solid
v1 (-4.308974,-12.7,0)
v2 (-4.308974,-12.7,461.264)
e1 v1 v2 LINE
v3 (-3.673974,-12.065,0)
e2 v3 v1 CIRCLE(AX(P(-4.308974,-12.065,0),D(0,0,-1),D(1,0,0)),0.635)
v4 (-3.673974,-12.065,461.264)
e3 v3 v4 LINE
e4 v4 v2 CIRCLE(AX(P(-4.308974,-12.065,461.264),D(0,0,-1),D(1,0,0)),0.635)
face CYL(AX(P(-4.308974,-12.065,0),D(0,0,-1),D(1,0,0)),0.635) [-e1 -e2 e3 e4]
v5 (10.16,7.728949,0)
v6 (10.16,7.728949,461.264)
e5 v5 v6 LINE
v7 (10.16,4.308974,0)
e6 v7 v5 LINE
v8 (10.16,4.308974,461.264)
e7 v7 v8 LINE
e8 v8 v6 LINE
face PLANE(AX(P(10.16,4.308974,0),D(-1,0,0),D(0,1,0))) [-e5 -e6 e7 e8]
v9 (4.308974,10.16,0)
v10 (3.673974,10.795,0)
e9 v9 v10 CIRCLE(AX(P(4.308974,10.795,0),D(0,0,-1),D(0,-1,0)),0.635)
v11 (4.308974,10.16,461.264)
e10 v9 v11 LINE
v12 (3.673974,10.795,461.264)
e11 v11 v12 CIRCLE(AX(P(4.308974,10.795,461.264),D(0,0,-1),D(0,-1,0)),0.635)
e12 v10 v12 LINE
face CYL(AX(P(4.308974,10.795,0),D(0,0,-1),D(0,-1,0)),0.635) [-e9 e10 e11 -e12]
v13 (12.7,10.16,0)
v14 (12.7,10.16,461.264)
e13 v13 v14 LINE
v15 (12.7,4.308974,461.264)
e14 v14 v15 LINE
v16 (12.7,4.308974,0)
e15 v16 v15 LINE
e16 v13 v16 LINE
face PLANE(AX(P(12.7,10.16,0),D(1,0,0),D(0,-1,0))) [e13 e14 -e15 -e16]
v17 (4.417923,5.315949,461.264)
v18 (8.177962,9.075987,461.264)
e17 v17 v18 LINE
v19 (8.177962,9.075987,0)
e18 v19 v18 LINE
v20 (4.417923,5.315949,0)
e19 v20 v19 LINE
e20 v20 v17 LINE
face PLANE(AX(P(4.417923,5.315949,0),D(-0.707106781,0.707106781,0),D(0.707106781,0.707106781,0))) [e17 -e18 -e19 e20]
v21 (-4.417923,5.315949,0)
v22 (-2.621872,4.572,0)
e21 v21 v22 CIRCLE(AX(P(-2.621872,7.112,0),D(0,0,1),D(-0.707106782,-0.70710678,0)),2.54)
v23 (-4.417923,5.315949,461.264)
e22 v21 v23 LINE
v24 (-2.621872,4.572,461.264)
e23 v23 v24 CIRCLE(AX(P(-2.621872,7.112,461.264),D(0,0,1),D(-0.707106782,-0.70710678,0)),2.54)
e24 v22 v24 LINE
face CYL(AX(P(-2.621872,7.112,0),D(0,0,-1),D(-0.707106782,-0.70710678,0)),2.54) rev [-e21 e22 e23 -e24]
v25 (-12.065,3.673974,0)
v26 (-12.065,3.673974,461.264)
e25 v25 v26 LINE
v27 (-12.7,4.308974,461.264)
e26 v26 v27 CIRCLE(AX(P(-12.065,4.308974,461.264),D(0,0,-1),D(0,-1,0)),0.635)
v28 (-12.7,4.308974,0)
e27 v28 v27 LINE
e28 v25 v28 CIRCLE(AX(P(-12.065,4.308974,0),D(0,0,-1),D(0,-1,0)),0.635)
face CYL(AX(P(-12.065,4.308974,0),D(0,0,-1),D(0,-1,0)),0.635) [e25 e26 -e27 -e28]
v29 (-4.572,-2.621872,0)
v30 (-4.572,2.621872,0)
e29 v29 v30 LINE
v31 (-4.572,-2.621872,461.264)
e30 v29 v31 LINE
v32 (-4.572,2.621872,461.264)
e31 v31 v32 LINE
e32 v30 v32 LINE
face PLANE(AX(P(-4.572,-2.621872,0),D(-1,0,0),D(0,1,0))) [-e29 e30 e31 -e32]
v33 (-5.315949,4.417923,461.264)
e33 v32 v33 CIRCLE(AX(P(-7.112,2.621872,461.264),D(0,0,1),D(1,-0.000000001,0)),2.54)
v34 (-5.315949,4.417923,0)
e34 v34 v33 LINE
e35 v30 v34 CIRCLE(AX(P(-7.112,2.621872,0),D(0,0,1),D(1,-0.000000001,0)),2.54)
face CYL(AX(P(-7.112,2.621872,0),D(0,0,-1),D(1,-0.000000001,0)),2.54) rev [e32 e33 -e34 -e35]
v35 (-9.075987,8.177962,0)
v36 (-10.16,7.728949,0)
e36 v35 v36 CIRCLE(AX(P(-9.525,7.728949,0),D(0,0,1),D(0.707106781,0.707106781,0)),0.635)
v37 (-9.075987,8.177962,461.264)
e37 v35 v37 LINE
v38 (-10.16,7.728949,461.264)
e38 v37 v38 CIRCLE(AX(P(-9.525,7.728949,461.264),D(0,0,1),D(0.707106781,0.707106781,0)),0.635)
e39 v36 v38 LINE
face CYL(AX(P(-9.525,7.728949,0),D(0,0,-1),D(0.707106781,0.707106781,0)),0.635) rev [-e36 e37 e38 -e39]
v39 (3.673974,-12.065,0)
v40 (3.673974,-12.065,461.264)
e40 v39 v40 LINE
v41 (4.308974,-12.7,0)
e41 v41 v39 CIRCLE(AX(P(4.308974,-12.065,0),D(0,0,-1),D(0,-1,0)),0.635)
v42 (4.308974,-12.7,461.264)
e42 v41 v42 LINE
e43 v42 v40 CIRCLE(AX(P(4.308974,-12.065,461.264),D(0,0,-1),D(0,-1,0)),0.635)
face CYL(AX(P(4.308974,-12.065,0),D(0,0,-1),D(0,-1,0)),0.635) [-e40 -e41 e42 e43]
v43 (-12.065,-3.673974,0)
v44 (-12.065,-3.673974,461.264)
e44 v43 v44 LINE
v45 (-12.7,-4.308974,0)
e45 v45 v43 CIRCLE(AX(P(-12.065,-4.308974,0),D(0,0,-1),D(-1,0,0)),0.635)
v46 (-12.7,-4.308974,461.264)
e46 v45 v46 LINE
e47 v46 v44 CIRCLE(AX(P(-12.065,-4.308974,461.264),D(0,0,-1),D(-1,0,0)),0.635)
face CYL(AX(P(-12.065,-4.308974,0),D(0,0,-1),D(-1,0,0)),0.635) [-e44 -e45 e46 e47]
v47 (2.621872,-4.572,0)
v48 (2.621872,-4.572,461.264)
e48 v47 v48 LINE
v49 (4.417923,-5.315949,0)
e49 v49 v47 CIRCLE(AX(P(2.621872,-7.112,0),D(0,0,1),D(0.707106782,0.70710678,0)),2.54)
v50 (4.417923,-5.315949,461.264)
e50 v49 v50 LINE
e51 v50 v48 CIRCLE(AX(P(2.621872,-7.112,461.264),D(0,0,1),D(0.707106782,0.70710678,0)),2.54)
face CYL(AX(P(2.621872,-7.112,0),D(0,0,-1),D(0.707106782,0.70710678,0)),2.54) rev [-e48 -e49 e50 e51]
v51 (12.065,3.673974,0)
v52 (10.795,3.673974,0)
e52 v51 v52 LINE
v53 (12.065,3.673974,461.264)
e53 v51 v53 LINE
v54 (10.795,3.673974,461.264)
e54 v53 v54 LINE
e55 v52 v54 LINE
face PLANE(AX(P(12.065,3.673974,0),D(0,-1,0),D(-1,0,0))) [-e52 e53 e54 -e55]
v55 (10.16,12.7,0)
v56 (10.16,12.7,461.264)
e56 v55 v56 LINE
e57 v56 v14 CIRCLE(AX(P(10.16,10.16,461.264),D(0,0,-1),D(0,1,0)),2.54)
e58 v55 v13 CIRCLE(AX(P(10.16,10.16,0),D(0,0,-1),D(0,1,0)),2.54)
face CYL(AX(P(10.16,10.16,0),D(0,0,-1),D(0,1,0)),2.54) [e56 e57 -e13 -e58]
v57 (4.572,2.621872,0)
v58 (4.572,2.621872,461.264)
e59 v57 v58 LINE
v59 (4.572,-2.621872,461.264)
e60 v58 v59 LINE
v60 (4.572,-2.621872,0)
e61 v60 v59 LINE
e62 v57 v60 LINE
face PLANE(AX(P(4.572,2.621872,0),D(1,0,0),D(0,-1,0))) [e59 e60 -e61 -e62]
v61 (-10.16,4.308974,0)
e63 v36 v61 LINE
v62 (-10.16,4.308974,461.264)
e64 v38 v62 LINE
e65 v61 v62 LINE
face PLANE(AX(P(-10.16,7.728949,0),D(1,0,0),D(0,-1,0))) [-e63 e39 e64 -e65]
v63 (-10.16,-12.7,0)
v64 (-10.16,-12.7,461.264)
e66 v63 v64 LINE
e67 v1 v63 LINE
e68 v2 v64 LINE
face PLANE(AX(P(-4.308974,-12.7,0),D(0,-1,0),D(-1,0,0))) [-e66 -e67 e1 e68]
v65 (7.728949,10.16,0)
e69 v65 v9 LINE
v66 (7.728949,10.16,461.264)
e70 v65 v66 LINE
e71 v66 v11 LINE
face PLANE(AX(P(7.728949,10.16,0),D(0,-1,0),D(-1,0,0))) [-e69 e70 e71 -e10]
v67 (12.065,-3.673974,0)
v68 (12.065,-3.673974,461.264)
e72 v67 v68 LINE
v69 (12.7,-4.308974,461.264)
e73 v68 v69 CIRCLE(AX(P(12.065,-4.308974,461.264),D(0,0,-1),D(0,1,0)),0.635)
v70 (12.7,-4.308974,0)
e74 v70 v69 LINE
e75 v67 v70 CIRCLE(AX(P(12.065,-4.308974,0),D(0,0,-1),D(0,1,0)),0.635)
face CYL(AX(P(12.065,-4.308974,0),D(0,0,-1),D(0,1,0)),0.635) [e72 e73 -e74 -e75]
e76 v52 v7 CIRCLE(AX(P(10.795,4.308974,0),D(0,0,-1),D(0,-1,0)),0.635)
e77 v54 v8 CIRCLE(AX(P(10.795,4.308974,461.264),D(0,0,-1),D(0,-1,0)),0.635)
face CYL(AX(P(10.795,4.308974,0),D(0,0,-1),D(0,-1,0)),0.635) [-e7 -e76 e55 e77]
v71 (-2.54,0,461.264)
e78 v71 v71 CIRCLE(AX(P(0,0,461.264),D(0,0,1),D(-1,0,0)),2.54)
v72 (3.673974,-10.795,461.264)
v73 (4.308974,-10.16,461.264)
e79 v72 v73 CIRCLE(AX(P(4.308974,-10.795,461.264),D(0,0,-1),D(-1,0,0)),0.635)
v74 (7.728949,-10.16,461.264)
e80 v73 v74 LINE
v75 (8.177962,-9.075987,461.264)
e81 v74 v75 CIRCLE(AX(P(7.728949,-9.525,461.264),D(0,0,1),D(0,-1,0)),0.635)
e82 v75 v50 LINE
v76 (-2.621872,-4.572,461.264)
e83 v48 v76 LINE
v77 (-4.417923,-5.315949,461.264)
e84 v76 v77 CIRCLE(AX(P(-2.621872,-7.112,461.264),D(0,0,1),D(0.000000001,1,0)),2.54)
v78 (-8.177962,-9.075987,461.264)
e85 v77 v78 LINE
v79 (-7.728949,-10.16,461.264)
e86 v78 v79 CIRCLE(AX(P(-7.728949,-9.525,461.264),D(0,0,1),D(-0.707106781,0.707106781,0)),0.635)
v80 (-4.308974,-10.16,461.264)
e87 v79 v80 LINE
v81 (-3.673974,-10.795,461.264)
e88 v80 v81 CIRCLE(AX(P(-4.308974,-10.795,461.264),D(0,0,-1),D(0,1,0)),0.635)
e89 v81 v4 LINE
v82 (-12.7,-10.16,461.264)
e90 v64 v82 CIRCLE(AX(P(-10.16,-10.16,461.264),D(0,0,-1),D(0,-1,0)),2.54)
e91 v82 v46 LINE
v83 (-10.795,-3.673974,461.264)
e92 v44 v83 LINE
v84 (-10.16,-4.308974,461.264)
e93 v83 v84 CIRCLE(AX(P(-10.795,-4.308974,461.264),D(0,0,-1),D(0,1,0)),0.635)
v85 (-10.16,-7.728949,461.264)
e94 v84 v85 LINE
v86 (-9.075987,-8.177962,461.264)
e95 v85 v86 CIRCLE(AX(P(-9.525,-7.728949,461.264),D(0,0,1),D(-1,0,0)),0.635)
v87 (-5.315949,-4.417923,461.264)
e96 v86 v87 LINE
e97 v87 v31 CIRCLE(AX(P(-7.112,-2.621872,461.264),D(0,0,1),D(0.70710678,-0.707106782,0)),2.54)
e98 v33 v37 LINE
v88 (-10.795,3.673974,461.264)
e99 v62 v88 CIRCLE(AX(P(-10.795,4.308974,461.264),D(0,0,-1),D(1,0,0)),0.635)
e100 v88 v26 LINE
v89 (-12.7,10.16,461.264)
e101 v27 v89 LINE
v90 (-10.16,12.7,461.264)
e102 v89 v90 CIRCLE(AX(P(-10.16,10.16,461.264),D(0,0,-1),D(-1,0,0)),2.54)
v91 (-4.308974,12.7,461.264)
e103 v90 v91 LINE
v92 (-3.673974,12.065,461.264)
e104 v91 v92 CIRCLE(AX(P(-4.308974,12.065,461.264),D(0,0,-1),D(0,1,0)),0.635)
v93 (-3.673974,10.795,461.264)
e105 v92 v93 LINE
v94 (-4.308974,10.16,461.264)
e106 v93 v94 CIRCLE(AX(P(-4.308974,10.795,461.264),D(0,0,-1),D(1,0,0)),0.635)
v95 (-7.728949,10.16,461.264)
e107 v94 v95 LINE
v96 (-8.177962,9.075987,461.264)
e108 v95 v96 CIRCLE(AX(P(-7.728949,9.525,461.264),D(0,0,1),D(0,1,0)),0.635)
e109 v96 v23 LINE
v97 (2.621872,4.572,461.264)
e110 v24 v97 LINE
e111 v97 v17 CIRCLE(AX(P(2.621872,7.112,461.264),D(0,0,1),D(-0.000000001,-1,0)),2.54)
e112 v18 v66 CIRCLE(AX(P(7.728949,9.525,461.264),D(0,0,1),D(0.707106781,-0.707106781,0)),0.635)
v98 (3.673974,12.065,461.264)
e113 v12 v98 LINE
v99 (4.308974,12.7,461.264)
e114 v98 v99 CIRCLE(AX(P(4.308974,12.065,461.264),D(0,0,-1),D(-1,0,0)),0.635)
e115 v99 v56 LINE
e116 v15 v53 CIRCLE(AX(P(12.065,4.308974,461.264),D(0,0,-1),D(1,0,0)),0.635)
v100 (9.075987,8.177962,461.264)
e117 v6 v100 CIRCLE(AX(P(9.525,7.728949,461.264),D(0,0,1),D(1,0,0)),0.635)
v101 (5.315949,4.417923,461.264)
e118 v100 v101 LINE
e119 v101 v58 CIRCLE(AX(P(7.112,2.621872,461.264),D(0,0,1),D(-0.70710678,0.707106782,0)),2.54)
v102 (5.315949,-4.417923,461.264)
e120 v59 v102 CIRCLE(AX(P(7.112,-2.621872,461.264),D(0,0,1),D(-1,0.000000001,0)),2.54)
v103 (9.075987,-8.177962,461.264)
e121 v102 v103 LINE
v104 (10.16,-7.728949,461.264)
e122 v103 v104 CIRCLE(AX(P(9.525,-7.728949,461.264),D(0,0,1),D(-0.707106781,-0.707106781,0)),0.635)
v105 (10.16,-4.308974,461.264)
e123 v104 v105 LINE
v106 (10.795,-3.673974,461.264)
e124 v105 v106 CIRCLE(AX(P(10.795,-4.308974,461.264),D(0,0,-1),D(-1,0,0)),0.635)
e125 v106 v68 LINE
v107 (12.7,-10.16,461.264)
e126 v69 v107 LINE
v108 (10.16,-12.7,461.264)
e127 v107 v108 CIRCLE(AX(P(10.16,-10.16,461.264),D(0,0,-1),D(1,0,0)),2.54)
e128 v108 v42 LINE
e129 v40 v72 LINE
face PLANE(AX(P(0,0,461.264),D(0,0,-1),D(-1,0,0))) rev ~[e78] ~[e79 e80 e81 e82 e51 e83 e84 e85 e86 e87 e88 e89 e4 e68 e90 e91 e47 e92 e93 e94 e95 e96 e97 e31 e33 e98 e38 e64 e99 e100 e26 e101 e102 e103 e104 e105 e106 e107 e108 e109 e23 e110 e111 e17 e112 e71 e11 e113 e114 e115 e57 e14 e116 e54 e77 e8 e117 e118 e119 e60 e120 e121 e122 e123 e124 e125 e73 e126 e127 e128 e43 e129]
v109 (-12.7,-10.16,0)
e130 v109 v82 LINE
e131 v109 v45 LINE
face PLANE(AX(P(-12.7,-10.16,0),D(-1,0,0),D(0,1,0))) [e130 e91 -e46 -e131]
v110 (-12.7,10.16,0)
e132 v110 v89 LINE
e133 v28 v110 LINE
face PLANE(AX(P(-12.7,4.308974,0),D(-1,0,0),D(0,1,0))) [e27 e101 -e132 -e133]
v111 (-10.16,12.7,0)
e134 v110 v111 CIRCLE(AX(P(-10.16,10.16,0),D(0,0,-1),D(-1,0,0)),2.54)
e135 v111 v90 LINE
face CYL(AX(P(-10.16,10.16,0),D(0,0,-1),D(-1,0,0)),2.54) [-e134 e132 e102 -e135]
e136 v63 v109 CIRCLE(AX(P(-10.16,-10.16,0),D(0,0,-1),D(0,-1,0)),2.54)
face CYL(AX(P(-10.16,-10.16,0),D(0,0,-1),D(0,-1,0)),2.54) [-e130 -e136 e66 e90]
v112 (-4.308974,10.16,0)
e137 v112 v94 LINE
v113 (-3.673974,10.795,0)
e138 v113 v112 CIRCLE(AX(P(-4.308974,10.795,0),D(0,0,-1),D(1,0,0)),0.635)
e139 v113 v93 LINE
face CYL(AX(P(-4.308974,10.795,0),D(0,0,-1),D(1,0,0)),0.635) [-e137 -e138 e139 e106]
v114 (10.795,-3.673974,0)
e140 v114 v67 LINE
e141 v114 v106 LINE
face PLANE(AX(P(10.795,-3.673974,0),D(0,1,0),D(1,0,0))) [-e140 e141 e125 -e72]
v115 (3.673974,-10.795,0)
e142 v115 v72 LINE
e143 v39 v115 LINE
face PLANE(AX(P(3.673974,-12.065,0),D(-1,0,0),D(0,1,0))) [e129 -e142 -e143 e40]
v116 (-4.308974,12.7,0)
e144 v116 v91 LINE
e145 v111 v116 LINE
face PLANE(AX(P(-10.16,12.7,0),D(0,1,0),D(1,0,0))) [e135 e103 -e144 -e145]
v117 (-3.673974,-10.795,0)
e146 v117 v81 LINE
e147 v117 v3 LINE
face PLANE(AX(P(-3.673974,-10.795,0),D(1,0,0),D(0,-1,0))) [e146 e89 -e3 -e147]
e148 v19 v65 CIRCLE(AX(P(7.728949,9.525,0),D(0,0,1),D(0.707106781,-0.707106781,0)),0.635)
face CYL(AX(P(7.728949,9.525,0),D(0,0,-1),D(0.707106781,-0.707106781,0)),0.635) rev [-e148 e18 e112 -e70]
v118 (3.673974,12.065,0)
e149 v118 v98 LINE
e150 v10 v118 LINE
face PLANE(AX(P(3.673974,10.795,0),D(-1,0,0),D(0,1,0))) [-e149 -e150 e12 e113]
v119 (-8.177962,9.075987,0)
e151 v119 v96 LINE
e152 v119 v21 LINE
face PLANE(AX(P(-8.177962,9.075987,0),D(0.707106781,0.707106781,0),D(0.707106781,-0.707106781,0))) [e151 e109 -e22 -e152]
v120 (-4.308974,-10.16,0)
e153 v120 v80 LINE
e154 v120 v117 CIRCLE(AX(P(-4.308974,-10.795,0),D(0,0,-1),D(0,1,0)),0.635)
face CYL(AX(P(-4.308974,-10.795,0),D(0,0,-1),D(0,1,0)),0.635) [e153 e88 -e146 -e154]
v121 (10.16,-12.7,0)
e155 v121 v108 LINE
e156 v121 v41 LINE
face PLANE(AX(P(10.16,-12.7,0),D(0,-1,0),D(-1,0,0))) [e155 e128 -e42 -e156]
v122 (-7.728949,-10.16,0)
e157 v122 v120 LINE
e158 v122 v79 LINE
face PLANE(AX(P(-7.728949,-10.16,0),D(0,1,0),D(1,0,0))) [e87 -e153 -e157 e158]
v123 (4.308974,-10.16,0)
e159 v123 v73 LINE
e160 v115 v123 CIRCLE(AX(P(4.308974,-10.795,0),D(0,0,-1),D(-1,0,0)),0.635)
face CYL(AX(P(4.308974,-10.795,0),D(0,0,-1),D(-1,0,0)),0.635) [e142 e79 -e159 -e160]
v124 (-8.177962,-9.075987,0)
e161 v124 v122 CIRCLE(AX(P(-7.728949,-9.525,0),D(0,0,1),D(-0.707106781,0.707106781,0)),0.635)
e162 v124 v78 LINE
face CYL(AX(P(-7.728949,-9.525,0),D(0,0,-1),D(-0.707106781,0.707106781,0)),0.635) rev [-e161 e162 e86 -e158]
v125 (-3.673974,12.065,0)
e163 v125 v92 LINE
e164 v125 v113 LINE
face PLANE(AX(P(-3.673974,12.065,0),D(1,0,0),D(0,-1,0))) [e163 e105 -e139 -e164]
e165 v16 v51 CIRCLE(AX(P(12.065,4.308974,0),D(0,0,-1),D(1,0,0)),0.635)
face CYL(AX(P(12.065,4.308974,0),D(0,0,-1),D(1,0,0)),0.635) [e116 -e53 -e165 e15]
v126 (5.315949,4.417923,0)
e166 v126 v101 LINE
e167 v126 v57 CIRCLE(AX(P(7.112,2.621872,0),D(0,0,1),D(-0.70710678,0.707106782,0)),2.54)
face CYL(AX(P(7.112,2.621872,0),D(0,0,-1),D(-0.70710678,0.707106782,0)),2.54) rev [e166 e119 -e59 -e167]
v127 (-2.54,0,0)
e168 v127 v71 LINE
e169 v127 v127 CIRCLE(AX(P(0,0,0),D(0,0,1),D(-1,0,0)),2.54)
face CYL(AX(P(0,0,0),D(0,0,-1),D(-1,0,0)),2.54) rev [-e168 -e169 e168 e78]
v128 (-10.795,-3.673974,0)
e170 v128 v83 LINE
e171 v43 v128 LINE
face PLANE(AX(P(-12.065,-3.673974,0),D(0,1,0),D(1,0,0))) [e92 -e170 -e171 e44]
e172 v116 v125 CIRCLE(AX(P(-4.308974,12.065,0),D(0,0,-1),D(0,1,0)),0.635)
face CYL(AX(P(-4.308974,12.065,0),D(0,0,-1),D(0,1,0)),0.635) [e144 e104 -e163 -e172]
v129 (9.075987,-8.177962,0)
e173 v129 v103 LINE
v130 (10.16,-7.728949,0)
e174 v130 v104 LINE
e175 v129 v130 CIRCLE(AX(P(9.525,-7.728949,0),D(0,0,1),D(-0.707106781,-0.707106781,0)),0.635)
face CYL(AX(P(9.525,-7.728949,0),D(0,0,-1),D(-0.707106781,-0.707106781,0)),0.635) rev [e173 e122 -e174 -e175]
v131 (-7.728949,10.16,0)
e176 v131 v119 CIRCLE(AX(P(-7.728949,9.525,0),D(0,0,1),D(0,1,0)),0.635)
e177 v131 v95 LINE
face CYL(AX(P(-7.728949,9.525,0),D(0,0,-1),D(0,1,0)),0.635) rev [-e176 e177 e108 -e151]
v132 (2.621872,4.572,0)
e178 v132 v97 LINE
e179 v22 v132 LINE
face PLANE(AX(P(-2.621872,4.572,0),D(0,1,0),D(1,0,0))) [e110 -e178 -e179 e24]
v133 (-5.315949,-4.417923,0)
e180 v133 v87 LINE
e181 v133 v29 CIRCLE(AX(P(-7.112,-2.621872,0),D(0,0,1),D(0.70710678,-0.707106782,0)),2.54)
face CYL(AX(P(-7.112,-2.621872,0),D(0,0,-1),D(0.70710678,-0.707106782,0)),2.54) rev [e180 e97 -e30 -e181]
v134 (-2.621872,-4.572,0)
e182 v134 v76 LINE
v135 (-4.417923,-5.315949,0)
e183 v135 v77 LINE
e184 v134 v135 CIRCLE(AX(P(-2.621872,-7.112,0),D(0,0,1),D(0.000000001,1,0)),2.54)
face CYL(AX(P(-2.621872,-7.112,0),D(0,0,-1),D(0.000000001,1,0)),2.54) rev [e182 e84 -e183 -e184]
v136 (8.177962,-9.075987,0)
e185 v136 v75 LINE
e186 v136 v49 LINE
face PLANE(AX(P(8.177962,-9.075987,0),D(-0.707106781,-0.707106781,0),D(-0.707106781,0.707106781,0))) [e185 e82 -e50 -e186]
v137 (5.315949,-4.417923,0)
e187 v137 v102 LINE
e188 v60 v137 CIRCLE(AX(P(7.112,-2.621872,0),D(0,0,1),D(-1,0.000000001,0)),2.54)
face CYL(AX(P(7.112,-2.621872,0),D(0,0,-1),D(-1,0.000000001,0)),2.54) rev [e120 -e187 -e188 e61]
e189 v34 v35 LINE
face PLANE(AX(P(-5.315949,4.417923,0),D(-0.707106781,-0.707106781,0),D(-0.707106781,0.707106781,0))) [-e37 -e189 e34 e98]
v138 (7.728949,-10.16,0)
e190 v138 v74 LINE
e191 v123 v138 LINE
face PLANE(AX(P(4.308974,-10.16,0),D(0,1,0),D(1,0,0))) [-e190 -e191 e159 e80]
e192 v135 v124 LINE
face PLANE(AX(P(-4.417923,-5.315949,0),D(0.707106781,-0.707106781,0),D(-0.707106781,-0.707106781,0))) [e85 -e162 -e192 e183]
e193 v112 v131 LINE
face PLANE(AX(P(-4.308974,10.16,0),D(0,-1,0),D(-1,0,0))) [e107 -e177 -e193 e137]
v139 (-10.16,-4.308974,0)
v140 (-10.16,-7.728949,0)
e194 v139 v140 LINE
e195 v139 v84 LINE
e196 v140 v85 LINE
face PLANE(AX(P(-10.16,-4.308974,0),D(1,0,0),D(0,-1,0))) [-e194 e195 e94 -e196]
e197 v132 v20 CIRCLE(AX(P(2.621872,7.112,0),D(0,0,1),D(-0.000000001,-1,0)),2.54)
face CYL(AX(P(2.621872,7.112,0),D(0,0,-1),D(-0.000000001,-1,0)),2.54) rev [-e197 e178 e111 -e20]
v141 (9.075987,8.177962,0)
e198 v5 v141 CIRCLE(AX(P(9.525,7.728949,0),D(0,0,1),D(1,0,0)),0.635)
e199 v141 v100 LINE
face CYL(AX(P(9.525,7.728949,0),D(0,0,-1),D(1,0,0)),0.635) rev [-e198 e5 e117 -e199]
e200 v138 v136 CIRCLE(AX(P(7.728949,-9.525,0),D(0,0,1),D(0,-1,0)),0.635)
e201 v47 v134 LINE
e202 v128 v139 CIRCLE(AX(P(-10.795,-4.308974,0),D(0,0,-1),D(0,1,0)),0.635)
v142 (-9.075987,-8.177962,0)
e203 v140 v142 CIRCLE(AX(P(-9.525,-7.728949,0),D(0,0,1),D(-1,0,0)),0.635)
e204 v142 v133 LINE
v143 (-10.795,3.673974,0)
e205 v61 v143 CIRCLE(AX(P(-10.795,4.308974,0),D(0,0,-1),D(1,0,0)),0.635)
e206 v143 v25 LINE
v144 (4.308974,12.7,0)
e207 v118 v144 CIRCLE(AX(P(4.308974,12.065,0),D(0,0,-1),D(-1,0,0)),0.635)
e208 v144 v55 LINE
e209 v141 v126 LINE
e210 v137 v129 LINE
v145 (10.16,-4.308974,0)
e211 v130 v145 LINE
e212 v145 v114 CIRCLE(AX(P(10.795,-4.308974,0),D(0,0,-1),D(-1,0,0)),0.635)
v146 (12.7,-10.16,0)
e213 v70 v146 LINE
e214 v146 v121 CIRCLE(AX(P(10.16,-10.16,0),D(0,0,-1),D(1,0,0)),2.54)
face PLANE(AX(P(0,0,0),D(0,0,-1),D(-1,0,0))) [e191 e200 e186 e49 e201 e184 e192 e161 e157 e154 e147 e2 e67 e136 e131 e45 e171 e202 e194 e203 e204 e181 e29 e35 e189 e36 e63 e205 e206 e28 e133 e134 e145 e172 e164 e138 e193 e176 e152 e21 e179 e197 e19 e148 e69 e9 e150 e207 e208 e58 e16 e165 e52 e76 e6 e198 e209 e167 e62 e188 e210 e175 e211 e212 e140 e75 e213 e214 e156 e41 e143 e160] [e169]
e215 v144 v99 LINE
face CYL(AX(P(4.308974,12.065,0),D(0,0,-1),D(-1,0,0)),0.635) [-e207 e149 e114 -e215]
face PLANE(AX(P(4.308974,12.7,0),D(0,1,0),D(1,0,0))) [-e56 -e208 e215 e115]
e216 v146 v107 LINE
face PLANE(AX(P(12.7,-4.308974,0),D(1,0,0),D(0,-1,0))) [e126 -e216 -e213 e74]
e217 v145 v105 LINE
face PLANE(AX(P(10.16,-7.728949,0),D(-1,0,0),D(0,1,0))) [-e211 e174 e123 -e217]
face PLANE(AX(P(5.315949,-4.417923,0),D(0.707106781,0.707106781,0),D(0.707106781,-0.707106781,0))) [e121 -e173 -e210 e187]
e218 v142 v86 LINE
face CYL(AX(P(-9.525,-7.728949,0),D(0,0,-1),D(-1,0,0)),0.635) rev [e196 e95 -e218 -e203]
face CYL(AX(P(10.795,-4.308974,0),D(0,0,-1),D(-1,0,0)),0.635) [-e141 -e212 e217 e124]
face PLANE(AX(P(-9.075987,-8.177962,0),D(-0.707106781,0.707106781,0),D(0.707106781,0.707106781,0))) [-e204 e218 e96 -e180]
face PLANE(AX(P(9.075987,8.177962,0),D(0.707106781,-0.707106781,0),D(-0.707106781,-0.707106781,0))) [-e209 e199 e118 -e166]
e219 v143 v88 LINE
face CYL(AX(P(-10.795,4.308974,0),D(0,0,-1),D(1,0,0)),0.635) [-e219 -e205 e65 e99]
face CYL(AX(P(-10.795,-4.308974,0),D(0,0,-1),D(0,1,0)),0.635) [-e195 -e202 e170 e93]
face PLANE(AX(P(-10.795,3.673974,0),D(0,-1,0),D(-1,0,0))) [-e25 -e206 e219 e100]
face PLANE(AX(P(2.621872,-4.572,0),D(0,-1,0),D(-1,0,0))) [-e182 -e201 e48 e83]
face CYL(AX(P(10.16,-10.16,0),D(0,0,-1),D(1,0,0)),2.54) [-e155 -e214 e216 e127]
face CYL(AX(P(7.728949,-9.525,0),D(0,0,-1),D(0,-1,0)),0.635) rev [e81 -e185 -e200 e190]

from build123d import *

# Parameters (mm, degrees)
SKETCH1_R           = 2.54
BOSS_EXTRUDE1_DEPTH = 461.264


with BuildPart() as part:
    # Sketch1 → Boss-Extrude1 (new body)
    with BuildSketch(Plane.XY):
        with BuildLine():
            Line((4.417923164, 5.315948776), (8.177961582, 9.075987194))
            ThreePointArc((8.177961582, 9.075987194), (8.315612279, 9.76800398), (7.728948776, 10.16))
            Line((7.728948776, 10.16), (4.308974388, 10.16))
            ThreePointArc((4.308974388, 10.16), (3.859961582, 10.345987194), (3.673974388, 10.795))
            Line((3.673974388, 10.795), (3.673974388, 12.065))
            ThreePointArc((3.673974388, 12.065), (3.859961582, 12.514012806), (4.308974388, 12.7))
            Line((4.308974388, 12.7), (10.16, 12.7))
            ThreePointArc((10.16, 12.7), (11.956051224, 11.956051224), (12.7, 10.16))
            Line((12.7, 10.16), (12.7, 4.308974388))
            ThreePointArc((12.7, 4.308974388), (12.514012806, 3.859961582), (12.065, 3.673974388))
            Line((12.065, 3.673974388), (10.795, 3.673974388))
            ThreePointArc((10.795, 3.673974388), (10.345987194, 3.859961582), (10.16, 4.308974388))
            Line((10.16, 4.308974388), (10.16, 7.728948776))
            ThreePointArc((10.16, 7.728948776), (9.76800398, 8.315612279), (9.075987194, 8.177961582))
            Line((9.075987194, 8.177961582), (5.315948776, 4.417923164))
            ThreePointArc((5.315948776, 4.417923164), (4.765345987, 3.593887858), (4.572, 2.621871939))
            Line((4.572, 2.621871939), (4.572, -2.621871939))
            ThreePointArc((4.572, -2.621871939), (4.765345987, -3.593887858), (5.315948776, -4.417923164))
            Line((5.315948776, -4.417923164), (9.075987194, -8.177961582))
            ThreePointArc((9.075987194, -8.177961582), (9.76800398, -8.315612279), (10.16, -7.728948776))
            Line((10.16, -7.728948776), (10.16, -4.308974388))
            ThreePointArc((10.16, -4.308974388), (10.345987194, -3.859961582), (10.795, -3.673974388))
            Line((10.795, -3.673974388), (12.065, -3.673974388))
            ThreePointArc((12.065, -3.673974388), (12.514012806, -3.859961582), (12.7, -4.308974388))
            Line((12.7, -4.308974388), (12.7, -10.16))
            ThreePointArc((12.7, -10.16), (11.956051224, -11.956051224), (10.16, -12.7))
            Line((10.16, -12.7), (4.308974388, -12.7))
            ThreePointArc((4.308974388, -12.7), (3.859961582, -12.514012806), (3.673974388, -12.065))
            Line((3.673974388, -12.065), (3.673974388, -10.795))
            ThreePointArc((3.673974388, -10.795), (3.859961582, -10.345987194), (4.308974388, -10.16))
            Line((4.308974388, -10.16), (7.728948776, -10.16))
            ThreePointArc((7.728948776, -10.16), (8.315612279, -9.76800398), (8.177961582, -9.075987194))
            Line((8.177961582, -9.075987194), (4.417923164, -5.315948776))
            ThreePointArc((4.417923164, -5.315948776), (3.593887858, -4.765345987), (2.621871939, -4.572))
            Line((2.621871939, -4.572), (-2.621871939, -4.572))
            ThreePointArc((-2.621871939, -4.572), (-3.593887858, -4.765345987), (-4.417923164, -5.315948776))
            Line((-4.417923164, -5.315948776), (-8.177961582, -9.075987194))
            ThreePointArc((-8.177961582, -9.075987194), (-8.315612279, -9.76800398), (-7.728948776, -10.16))
            Line((-7.728948776, -10.16), (-4.308974388, -10.16))
            ThreePointArc((-4.308974388, -10.16), (-3.859961582, -10.345987194), (-3.673974388, -10.795))
            Line((-3.673974388, -10.795), (-3.673974388, -12.065))
            ThreePointArc((-3.673974388, -12.065), (-3.859961582, -12.514012806), (-4.308974388, -12.7))
            Line((-4.308974388, -12.7), (-10.16, -12.7))
            ThreePointArc((-10.16, -12.7), (-11.956051224, -11.956051224), (-12.7, -10.16))
            Line((-12.7, -10.16), (-12.7, -4.308974388))
            ThreePointArc((-12.7, -4.308974388), (-12.514012806, -3.859961582), (-12.065, -3.673974388))
            Line((-12.065, -3.673974388), (-10.795, -3.673974388))
            ThreePointArc((-10.795, -3.673974388), (-10.345987194, -3.859961582), (-10.16, -4.308974388))
            Line((-10.16, -4.308974388), (-10.16, -7.728948776))
            ThreePointArc((-10.16, -7.728948776), (-9.76800398, -8.315612279), (-9.075987194, -8.177961582))
            Line((-9.075987194, -8.177961582), (-5.315948776, -4.417923164))
            ThreePointArc((-5.315948776, -4.417923164), (-4.765345987, -3.593887858), (-4.572, -2.621871939))
            Line((-4.572, -2.621871939), (-4.572, 2.621871939))
            ThreePointArc((-4.572, 2.621871939), (-4.765345987, 3.593887858), (-5.315948776, 4.417923164))
            Line((-5.315948776, 4.417923164), (-9.075987194, 8.177961582))
            ThreePointArc((-9.075987194, 8.177961582), (-9.76800398, 8.315612279), (-10.16, 7.728948776))
            Line((-10.16, 7.728948776), (-10.16, 4.308974388))
            ThreePointArc((-10.16, 4.308974388), (-10.345987194, 3.859961582), (-10.795, 3.673974388))
            Line((-10.795, 3.673974388), (-12.065, 3.673974388))
            ThreePointArc((-12.065, 3.673974388), (-12.514012806, 3.859961582), (-12.7, 4.308974388))
            Line((-12.7, 4.308974388), (-12.7, 10.16))
            ThreePointArc((-12.7, 10.16), (-11.956051224, 11.956051224), (-10.16, 12.7))
            Line((-10.16, 12.7), (-4.308974388, 12.7))
            ThreePointArc((-4.308974388, 12.7), (-3.859961582, 12.514012806), (-3.673974388, 12.065))
            Line((-3.673974388, 12.065), (-3.673974388, 10.795))
            ThreePointArc((-3.673974388, 10.795), (-3.859961582, 10.345987194), (-4.308974388, 10.16))
            Line((-4.308974388, 10.16), (-7.728948776, 10.16))
            ThreePointArc((-7.728948776, 10.16), (-8.315612279, 9.76800398), (-8.177961582, 9.075987194))
            Line((-8.177961582, 9.075987194), (-4.417923164, 5.315948776))
            ThreePointArc((-4.417923164, 5.315948776), (-3.593887858, 4.765345987), (-2.621871939, 4.572))
            Line((-2.621871939, 4.572), (2.621871939, 4.572))
            ThreePointArc((2.621871939, 4.572), (3.593887858, 4.765345987), (4.417923164, 5.315948776))
        make_face()
        with Locations(Location((0, 0, 0), (0, 0, 180))):
            Circle(SKETCH1_R, mode=Mode.SUBTRACT)
    extrude(amount=BOSS_EXTRUDE1_DEPTH)


solid = part.part
